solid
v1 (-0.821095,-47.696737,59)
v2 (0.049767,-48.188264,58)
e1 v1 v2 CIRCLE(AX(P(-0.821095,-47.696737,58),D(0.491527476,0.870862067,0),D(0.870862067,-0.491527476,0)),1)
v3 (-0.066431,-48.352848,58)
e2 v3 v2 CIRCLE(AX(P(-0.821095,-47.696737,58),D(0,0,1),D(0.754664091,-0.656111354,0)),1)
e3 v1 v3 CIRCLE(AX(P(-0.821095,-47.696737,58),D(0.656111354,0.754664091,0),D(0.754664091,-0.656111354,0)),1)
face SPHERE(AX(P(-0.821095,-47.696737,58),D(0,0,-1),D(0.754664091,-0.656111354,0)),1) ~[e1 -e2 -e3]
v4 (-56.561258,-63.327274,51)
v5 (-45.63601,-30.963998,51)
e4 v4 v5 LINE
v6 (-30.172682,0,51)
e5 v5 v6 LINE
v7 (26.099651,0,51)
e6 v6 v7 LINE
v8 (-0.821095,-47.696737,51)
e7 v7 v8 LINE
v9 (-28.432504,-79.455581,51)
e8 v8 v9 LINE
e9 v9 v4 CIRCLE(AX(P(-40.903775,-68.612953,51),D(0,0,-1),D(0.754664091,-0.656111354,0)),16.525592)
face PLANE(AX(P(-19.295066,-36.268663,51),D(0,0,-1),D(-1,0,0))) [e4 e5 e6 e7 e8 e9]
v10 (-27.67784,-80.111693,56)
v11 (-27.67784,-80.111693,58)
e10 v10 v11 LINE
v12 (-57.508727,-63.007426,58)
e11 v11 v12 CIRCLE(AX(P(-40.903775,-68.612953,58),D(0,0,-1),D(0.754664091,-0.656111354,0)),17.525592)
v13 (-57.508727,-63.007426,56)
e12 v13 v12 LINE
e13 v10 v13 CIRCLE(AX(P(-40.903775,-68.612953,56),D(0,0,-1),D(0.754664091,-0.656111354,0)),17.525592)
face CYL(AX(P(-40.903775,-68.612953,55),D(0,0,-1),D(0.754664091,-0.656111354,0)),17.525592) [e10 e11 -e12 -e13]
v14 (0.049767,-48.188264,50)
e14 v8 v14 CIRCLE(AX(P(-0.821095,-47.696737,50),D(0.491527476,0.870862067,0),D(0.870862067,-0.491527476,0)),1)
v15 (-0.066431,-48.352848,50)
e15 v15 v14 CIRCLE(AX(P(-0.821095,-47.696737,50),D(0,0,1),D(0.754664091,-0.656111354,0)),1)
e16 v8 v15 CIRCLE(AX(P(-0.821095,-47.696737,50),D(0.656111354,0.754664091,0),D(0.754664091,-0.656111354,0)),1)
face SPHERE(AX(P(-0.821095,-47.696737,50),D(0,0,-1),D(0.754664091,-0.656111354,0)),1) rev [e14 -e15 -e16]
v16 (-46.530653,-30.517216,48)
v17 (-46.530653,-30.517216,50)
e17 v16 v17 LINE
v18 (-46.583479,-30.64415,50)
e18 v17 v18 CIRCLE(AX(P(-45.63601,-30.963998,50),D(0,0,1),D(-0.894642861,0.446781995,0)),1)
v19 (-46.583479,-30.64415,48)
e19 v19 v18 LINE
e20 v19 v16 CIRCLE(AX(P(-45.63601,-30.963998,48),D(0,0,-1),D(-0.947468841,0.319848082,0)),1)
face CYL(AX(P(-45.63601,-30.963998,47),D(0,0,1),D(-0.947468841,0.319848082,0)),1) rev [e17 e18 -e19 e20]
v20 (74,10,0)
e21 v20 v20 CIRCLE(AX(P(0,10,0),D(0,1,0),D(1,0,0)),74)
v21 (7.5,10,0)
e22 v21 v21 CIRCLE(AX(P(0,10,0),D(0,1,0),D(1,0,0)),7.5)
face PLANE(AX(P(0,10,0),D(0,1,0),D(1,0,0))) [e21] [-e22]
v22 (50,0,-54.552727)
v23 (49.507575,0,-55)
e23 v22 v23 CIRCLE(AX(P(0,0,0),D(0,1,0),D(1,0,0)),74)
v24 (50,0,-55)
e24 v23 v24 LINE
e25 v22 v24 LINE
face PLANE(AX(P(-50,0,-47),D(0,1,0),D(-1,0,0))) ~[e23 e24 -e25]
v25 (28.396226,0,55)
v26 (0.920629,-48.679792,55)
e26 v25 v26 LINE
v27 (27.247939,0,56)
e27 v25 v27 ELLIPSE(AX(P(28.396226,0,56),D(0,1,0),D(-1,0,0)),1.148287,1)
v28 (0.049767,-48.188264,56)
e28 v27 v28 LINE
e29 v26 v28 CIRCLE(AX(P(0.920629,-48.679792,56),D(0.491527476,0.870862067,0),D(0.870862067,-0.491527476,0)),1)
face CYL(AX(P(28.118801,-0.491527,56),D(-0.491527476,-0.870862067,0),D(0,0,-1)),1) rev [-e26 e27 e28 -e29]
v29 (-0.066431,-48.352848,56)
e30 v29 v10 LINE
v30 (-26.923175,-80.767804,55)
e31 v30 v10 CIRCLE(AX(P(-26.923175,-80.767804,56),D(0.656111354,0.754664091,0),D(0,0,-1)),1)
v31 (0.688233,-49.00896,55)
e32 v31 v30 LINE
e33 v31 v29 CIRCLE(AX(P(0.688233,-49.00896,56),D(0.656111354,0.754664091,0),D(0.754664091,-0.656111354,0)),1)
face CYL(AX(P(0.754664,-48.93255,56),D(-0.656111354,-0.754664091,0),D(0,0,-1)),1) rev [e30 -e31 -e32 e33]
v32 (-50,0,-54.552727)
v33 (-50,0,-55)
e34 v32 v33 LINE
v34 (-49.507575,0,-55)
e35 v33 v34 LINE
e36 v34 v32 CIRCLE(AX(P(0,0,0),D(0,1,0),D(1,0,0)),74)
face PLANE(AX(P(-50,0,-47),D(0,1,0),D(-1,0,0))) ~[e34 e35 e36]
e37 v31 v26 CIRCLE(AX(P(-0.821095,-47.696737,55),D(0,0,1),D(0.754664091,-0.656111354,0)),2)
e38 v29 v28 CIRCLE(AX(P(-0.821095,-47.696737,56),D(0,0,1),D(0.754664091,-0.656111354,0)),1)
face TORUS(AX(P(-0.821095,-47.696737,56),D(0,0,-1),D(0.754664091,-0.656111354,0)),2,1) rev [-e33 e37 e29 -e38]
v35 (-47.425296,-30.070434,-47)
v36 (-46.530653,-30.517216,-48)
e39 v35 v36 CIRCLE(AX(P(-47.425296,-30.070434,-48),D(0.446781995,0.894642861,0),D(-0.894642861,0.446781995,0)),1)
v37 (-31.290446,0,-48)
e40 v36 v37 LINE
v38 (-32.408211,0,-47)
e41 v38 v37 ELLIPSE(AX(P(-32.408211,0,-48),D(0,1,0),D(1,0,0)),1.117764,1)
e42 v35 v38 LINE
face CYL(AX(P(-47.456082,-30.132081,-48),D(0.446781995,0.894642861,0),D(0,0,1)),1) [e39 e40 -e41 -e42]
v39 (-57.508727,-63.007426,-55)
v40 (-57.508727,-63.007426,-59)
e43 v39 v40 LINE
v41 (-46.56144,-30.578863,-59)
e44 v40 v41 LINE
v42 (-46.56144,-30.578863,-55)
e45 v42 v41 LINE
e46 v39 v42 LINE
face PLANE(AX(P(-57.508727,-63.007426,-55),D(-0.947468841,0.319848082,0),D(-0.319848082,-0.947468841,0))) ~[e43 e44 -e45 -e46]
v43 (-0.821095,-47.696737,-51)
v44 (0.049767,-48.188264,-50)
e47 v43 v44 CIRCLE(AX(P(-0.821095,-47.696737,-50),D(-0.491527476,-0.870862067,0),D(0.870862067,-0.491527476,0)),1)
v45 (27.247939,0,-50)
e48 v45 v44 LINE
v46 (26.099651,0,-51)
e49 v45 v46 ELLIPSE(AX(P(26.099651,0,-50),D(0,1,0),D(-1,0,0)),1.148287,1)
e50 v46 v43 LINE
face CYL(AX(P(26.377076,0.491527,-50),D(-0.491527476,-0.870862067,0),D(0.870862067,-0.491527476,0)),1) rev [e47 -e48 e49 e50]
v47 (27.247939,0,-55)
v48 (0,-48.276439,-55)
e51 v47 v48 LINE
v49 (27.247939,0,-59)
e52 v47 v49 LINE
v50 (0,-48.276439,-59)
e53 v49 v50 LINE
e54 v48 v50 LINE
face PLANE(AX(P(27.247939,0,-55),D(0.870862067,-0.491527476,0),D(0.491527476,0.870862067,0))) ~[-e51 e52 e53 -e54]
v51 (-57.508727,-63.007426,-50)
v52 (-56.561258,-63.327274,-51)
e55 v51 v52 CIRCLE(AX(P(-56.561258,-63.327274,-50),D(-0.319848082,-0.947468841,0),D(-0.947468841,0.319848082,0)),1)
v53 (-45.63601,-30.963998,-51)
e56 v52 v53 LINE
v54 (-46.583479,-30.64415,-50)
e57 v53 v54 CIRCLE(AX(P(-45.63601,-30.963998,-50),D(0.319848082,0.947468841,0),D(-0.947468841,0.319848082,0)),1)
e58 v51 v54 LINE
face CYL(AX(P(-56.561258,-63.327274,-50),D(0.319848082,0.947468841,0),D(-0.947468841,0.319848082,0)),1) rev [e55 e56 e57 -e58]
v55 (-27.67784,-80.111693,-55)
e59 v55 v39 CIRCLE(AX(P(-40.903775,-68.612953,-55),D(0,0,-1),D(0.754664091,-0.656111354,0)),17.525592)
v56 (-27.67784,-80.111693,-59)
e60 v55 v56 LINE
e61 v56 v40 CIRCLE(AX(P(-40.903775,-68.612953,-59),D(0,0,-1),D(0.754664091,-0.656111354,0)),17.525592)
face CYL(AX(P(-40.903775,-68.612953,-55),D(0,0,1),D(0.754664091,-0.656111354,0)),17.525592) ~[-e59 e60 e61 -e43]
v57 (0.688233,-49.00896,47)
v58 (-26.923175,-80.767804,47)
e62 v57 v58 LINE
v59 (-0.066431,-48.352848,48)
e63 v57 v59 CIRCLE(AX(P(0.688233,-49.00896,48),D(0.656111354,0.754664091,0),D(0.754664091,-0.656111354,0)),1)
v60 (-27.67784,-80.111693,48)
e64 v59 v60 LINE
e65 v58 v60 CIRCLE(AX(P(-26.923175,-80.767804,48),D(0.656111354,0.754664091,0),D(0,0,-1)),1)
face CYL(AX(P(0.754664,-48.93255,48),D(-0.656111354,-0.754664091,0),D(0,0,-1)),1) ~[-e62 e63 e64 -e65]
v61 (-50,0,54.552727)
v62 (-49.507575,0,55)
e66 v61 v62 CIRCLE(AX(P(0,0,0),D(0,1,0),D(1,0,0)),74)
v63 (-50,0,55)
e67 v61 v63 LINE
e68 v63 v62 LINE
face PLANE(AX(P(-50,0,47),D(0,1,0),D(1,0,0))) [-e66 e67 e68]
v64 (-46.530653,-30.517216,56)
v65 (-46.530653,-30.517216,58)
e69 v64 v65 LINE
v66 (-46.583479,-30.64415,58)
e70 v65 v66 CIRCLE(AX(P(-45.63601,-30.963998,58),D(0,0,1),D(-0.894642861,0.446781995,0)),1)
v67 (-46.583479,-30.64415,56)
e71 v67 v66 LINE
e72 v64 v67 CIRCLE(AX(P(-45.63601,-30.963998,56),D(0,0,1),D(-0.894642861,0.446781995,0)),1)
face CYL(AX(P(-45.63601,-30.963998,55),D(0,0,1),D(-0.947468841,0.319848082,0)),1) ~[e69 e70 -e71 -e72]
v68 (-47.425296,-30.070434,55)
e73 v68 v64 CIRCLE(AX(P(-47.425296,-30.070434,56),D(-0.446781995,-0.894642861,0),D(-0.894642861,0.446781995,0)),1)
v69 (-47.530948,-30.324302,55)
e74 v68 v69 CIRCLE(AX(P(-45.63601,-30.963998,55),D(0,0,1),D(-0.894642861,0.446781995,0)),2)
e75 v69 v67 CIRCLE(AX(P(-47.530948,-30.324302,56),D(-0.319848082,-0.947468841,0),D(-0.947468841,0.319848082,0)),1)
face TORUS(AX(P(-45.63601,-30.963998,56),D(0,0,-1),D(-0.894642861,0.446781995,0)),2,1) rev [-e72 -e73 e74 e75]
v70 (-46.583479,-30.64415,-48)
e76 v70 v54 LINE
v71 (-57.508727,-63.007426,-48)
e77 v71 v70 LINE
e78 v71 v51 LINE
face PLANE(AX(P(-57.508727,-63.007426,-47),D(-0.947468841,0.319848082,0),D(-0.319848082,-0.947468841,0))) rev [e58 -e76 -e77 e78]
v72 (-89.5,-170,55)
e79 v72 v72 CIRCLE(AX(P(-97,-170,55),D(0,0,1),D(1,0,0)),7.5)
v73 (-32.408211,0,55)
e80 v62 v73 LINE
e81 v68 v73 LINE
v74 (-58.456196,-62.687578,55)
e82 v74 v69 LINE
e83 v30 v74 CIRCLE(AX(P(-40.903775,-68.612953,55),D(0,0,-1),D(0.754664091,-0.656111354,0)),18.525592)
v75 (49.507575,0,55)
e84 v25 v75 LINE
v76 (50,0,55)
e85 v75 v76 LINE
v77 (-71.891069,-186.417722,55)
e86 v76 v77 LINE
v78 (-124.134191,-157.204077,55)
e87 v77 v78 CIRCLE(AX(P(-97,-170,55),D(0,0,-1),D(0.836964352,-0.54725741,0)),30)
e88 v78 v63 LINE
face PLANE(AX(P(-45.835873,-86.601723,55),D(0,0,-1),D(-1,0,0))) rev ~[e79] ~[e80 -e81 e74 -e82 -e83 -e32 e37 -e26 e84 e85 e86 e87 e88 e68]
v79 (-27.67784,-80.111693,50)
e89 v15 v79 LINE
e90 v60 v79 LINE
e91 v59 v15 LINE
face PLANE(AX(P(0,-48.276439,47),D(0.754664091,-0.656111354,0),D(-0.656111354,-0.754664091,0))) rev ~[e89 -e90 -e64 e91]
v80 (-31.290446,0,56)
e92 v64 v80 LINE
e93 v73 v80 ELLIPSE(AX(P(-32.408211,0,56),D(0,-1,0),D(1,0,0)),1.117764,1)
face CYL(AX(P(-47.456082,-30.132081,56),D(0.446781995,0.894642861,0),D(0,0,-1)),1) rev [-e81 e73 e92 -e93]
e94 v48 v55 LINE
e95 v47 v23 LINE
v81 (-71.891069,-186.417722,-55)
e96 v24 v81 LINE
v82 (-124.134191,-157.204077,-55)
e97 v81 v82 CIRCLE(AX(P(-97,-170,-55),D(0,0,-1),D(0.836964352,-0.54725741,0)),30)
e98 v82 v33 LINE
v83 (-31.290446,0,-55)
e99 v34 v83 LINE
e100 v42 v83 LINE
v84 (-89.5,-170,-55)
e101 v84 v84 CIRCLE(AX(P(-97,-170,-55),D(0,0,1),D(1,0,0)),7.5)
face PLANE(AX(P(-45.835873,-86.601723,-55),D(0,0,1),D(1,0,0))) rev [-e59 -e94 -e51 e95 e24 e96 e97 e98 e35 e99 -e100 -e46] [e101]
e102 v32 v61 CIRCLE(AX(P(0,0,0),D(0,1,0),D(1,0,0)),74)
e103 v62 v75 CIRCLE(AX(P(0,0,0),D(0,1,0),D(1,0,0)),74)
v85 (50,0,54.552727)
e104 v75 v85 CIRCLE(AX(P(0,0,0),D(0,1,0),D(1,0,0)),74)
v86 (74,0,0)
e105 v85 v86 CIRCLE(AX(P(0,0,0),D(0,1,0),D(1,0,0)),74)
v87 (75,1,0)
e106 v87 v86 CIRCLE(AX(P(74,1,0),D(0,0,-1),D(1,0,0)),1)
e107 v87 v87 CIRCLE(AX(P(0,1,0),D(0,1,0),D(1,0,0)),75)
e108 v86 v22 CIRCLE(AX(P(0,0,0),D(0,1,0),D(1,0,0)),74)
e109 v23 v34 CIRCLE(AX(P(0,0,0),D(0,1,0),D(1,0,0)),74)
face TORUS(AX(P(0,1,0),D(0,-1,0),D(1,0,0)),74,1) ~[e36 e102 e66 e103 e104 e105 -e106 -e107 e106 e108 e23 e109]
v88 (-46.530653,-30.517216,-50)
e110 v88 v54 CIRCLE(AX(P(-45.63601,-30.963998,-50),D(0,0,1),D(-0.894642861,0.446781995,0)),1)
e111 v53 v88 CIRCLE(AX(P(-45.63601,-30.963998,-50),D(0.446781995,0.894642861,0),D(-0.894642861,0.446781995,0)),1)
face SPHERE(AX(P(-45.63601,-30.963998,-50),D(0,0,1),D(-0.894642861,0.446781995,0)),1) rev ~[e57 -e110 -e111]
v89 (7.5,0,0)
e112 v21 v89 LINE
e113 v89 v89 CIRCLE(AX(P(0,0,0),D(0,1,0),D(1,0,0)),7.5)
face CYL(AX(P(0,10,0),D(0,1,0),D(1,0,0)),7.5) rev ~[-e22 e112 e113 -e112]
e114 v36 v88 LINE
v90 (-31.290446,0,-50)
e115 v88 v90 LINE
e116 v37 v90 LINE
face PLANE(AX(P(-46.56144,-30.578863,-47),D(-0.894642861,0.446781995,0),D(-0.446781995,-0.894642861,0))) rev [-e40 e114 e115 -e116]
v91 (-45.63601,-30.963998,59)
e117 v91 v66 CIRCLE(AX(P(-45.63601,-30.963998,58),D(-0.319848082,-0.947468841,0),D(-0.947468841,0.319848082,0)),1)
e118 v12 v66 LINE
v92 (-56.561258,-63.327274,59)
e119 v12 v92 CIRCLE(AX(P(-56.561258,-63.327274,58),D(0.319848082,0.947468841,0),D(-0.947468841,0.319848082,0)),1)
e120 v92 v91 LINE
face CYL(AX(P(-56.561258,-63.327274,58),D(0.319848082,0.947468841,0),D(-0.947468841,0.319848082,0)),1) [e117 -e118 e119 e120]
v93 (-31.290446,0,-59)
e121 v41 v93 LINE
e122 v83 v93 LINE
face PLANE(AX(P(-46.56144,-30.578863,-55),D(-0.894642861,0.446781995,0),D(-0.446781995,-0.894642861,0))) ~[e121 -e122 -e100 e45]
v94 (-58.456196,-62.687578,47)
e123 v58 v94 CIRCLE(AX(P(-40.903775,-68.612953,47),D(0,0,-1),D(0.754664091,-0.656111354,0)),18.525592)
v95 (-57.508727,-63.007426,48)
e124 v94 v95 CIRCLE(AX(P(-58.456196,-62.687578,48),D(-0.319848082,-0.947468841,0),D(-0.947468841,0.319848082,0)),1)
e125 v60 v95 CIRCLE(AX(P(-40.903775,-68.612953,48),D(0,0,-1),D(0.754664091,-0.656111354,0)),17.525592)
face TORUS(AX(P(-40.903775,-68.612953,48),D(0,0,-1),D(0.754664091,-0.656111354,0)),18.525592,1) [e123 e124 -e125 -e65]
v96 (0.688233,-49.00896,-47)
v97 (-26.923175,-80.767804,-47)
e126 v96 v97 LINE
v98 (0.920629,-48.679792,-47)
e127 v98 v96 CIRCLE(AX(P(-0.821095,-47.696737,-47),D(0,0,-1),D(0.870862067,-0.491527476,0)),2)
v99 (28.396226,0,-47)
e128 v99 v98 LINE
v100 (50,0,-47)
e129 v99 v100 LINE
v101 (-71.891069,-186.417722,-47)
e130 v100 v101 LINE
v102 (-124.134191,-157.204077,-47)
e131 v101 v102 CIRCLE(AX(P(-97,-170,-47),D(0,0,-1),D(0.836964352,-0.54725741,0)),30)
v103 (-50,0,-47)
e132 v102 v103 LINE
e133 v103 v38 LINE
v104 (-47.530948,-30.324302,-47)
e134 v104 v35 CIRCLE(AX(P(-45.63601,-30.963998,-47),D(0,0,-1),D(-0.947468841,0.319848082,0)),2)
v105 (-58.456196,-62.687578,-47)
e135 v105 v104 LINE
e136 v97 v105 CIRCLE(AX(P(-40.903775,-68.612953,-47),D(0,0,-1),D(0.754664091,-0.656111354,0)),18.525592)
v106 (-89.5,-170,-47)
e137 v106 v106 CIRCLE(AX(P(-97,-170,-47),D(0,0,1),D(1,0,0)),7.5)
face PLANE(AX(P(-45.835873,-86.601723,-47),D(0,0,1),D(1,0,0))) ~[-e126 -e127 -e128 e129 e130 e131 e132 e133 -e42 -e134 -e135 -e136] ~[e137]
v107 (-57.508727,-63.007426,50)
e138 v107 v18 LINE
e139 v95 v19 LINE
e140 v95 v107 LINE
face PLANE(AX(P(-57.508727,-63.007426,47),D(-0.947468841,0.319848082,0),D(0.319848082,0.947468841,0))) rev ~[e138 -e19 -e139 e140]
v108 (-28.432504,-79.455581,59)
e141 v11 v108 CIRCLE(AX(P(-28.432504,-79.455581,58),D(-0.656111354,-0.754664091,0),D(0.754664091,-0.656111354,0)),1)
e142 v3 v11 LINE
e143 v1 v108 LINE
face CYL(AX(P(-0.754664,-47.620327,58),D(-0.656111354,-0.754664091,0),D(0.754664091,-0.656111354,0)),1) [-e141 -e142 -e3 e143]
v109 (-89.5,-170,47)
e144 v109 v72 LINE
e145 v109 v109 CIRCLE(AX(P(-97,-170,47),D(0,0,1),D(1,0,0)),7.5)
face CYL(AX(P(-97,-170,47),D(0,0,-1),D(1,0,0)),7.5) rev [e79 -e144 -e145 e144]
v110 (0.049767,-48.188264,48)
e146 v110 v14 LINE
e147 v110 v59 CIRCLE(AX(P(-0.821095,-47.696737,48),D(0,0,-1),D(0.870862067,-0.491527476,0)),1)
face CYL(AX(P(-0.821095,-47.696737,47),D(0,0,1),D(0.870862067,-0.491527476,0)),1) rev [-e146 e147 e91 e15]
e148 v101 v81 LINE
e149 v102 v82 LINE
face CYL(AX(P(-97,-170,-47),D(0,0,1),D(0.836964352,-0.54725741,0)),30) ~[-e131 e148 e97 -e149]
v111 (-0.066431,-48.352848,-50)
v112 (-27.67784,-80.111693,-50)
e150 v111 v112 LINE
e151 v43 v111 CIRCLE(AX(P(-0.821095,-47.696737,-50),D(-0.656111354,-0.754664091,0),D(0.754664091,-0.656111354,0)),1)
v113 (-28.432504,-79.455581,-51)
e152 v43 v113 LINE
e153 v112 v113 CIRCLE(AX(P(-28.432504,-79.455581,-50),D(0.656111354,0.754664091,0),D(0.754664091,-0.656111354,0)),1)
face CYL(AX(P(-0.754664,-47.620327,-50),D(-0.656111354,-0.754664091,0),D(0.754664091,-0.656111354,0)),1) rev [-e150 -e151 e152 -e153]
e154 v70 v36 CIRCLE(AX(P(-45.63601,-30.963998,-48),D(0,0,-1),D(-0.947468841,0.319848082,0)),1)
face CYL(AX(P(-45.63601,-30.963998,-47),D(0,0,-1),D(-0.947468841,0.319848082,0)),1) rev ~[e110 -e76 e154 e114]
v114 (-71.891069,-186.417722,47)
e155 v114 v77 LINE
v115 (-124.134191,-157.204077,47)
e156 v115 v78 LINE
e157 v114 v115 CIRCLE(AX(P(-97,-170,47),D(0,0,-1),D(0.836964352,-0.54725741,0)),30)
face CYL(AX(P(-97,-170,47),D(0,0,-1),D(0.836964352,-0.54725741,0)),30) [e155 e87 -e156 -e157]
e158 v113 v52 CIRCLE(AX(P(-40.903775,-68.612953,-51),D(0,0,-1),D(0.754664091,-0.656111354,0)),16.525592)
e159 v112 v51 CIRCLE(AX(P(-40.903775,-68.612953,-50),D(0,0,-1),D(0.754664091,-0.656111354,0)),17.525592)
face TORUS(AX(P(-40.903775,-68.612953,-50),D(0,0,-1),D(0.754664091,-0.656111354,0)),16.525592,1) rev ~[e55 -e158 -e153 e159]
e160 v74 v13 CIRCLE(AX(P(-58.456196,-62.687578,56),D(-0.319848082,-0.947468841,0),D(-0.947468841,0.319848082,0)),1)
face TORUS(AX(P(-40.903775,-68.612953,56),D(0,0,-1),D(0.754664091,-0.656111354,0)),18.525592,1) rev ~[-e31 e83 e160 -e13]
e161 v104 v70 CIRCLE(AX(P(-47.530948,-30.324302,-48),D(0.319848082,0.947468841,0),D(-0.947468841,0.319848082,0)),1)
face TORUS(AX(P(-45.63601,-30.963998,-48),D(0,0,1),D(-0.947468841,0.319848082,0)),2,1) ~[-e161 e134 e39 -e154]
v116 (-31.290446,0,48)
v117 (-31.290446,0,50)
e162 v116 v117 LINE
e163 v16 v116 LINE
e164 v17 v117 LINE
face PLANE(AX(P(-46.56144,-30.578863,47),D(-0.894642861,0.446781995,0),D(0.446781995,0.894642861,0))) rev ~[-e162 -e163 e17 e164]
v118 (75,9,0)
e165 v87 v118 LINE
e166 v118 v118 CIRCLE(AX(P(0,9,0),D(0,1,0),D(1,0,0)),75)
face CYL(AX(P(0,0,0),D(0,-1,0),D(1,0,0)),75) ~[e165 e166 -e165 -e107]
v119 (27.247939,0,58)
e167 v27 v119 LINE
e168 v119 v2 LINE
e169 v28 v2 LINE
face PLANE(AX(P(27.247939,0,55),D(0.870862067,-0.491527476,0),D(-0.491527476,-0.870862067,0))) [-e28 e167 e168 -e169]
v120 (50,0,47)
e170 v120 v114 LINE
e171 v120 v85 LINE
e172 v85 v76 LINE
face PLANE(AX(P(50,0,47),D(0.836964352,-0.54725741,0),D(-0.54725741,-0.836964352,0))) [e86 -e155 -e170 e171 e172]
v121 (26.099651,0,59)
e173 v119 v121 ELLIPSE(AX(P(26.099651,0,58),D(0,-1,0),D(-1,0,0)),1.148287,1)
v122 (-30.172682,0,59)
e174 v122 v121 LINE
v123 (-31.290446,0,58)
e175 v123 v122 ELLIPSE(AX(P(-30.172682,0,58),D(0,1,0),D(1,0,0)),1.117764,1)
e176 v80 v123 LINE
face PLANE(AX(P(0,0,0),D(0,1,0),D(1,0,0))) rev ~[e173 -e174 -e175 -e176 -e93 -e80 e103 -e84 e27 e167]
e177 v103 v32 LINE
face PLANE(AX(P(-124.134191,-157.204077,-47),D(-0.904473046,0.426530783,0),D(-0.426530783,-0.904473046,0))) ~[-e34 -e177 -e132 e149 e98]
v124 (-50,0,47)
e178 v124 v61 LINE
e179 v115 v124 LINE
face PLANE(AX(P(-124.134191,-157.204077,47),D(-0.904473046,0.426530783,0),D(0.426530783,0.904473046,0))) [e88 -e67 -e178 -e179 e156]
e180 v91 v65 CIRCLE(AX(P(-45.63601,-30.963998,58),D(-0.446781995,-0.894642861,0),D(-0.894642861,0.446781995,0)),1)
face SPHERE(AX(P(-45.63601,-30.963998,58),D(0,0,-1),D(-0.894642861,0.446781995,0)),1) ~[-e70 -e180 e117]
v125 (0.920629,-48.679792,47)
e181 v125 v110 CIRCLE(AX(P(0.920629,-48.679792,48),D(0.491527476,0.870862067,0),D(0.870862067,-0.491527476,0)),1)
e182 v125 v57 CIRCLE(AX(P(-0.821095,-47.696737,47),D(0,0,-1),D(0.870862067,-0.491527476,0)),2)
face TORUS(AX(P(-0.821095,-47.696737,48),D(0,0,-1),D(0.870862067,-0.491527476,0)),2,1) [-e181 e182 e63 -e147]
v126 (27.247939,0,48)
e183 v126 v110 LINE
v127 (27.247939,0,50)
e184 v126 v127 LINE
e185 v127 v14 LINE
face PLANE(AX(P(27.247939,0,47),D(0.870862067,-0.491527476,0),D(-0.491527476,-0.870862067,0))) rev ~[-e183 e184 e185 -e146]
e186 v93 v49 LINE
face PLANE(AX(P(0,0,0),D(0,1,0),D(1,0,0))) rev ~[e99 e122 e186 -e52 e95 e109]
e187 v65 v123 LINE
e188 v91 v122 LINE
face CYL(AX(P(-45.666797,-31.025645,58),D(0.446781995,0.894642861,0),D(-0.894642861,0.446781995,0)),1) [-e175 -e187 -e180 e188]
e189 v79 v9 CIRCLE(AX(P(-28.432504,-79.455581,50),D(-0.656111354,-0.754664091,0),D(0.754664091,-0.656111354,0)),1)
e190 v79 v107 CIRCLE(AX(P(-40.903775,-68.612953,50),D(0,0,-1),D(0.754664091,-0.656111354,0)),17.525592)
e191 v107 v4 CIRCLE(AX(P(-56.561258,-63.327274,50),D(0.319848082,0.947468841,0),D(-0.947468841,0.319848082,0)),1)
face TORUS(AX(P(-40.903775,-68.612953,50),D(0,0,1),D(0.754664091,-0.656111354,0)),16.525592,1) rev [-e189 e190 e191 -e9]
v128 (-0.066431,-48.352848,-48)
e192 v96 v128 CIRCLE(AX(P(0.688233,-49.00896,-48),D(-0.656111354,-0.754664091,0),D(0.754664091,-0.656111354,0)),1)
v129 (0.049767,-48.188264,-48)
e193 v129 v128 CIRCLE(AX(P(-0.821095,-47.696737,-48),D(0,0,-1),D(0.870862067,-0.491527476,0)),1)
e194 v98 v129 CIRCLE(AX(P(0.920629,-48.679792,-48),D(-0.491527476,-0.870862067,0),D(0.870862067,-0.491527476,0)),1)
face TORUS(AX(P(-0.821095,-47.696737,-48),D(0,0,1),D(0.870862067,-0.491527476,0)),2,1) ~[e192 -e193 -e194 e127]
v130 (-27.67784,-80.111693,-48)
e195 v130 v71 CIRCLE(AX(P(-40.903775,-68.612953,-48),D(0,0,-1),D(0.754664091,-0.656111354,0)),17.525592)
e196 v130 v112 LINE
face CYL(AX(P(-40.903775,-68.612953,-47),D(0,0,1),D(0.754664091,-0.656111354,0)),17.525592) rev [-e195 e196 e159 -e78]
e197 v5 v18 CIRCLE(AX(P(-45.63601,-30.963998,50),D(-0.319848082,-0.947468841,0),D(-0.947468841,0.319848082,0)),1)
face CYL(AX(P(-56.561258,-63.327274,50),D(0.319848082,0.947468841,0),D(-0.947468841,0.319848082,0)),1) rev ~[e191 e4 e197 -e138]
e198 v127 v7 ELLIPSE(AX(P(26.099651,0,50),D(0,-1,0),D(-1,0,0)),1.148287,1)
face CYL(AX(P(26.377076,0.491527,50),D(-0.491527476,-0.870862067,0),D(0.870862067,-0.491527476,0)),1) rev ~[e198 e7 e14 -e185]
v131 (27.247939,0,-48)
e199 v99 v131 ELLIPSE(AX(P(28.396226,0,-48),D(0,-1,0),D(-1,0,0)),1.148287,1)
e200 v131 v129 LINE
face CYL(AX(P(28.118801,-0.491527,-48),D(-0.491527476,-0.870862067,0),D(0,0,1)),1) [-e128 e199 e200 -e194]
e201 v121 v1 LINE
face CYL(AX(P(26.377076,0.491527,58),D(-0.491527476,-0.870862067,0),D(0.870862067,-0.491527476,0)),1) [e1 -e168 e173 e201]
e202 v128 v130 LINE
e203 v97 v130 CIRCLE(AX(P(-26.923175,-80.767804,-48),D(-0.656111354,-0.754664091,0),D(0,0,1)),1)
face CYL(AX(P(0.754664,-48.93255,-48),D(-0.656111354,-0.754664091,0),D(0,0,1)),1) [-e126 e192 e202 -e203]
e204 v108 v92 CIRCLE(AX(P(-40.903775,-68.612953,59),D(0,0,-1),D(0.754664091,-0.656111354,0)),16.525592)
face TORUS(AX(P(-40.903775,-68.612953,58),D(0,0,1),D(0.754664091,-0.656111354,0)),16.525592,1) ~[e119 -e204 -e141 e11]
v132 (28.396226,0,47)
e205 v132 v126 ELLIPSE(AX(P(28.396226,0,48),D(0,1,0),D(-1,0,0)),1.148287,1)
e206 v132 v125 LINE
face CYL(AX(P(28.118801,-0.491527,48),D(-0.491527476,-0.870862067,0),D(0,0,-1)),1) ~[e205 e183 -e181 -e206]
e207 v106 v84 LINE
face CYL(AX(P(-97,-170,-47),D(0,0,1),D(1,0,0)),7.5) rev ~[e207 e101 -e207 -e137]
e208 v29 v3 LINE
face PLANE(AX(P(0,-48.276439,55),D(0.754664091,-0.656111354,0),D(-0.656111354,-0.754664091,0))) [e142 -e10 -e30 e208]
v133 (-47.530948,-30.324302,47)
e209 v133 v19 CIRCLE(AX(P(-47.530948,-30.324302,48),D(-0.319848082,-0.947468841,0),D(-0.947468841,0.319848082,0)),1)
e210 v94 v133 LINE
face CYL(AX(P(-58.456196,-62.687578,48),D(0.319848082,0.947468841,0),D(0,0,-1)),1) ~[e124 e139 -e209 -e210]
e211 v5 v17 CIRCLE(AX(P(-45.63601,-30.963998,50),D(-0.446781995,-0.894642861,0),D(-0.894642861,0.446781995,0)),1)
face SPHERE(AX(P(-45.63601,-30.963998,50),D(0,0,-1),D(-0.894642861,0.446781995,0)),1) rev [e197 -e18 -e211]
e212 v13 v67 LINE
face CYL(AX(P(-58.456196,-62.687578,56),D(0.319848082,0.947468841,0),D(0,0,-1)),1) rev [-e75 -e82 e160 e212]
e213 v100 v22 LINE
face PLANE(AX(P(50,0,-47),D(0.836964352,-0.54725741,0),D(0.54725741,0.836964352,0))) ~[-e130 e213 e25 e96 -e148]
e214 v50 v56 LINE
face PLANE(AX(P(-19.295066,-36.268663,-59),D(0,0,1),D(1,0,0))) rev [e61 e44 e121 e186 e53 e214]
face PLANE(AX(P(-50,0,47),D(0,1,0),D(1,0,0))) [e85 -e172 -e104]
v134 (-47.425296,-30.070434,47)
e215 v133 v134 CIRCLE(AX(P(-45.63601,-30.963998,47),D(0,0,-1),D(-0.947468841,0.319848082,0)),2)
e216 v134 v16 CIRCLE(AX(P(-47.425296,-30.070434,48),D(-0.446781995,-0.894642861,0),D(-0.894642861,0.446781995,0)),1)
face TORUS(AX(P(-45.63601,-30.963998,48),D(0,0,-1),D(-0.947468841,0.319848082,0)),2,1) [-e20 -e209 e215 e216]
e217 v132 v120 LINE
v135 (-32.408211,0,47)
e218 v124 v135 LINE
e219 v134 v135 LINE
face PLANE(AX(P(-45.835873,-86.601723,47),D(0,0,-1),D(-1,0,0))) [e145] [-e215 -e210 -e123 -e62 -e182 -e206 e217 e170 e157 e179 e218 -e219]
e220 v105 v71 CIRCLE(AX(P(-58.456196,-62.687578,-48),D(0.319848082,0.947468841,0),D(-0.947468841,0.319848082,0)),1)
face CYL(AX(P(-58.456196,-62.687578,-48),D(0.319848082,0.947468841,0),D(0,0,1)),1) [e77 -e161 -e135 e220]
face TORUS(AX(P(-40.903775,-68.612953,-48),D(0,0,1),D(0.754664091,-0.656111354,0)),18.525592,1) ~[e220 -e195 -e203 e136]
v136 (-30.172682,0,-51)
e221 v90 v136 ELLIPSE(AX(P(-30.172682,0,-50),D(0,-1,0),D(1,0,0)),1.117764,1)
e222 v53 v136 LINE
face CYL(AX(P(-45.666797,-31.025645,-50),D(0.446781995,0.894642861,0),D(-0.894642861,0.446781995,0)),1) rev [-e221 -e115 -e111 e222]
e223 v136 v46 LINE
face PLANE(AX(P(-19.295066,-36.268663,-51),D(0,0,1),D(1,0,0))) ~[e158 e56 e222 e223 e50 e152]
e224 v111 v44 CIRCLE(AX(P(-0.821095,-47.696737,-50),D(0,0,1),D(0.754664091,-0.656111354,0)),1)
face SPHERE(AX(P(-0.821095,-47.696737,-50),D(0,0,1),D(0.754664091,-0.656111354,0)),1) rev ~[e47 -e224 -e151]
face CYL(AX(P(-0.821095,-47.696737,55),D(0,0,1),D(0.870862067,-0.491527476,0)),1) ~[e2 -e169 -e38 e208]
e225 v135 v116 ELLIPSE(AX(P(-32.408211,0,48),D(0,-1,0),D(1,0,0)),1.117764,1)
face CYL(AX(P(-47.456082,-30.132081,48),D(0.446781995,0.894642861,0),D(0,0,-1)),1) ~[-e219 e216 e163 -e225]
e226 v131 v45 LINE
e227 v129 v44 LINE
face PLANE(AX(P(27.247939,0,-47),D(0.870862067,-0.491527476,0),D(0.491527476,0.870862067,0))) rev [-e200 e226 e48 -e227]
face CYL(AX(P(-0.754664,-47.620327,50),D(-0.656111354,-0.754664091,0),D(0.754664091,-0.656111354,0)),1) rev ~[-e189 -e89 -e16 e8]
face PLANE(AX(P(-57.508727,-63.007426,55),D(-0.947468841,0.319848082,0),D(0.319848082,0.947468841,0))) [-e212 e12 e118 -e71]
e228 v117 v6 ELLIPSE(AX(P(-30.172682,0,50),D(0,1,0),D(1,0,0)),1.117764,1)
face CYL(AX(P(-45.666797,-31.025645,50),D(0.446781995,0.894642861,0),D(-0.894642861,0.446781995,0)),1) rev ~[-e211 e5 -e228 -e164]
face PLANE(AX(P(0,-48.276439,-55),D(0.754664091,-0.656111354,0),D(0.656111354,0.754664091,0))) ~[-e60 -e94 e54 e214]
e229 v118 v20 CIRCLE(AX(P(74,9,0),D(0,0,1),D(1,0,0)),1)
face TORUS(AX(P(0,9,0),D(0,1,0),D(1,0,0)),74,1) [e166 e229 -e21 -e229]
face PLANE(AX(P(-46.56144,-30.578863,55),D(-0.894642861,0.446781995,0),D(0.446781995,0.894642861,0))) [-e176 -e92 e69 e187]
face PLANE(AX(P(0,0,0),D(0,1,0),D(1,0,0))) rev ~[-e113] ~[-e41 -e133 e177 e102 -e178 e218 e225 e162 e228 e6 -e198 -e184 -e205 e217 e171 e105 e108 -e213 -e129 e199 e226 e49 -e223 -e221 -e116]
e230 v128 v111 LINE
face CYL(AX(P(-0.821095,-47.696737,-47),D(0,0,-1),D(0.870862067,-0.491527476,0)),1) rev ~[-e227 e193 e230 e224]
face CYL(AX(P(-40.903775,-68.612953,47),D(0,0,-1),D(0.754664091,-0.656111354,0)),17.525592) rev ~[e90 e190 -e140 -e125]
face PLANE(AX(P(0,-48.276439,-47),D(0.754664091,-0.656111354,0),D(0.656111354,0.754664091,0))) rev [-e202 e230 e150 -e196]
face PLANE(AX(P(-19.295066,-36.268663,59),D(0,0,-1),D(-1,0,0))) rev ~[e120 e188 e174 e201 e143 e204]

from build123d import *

# Parameters (mm, degrees)
SKETCH1_R            = 75
BOSS_EXTRUDE1_DEPTH  = 10
FILLET1_R            = 1
SKETCH2_R            = 7.5
BOSS_EXTRUDE2_DEPTH  = 8
BOSS_EXTRUDE3_DEPTH  = 4
FILLET2_R            = 1
CUT_EXTRUDE1_DEPTH   = 4
FILLET3_R            = 1
FILLET3_OF_MIRROR1_R = 1
SKETCH5_R            = 7.5
CUT_EXTRUDE2_DEPTH   = 211


with BuildPart() as part:
    # Sketch1 → Boss-Extrude1 (new body)
    with BuildSketch(Plane(origin=(0, 0, 0), x_dir=(1, 0, 0), z_dir=(0, 1, 0))):
        Circle(SKETCH1_R)
    extrude(amount=BOSS_EXTRUDE1_DEPTH)

    # Fillet1
    fillet1_edges = [part.edges().sort_by_distance(p)[0] for p in [
        (-75, 0, 0),
        (-75, 10, 0),
    ]]
    fillet(fillet1_edges, radius=FILLET1_R)

    # Sketch2 → Boss-Extrude2 (add)
    with BuildSketch(Plane.XY.offset(47)):
        with BuildLine():
            Line((-50, 0), (50, 0))
            Line((50, 0), (-71.891069435, -186.417722312))
            ThreePointArc((-71.891069435, -186.417722312), (-111.641881564, -196.184256802), (-124.134191379, -157.204076501))
            Line((-124.134191379, -157.204076501), (-50, 0))
        make_face()
        with Locations((-97, -170)):
            Circle(SKETCH2_R, mode=Mode.SUBTRACT)
    boss_extrude2 = extrude(amount=BOSS_EXTRUDE2_DEPTH)

    # Sketch3 → Boss-Extrude3 (add)
    with BuildSketch(Plane.XY.offset(55)):
        with BuildLine():
            Line((27.247938565, 0), (0, -48.276438764))
            Line((0, -48.276438764), (-27.677839504, -80.111692733))
            ThreePointArc((-27.677839504, -80.111692733), (-49.621195418, -83.816667821), (-57.508726964, -63.007425758))
            Line((-57.508726964, -63.007425758), (-46.561439617, -30.578862792))
            Line((-46.561439617, -30.578862792), (-31.290446104, 0))
            Line((-31.290446104, 0), (27.247938565, 0))
        make_face()
    boss_extrude3 = extrude(amount=BOSS_EXTRUDE3_DEPTH)

    # Fillet2
    fillet2_edges = [part.edges().sort_by_distance(p)[0] for p in [
        (-38.92594286, -15.289431396, 55),
        (-52.035083291, -46.793144275, 55),
        (-46.561439617, -30.578862792, 57),
        (-49.621195418, -83.816667821, 55),
        (-13.838919752, -64.194065748, 55),
        (13.623969282, -24.138219382, 55),
        (0, -48.276438764, 57),
        (-38.92594286, -15.289431396, 59),
        (-52.035083291, -46.793144275, 59),
        (-49.621195418, -83.816667821, 59),
        (-13.838919752, -64.194065748, 59),
        (13.623969282, -24.138219382, 59),
    ]]
    fillet(fillet2_edges, radius=FILLET2_R)

    # Sketch4 → Cut-Extrude1 (cut)
    with BuildSketch(Plane(origin=(0, 0, 47), x_dir=(-1, 0, 0), z_dir=(0, 0, -1))):
        with BuildLine():
            Line((-27.247938565, 0), (0, -48.276438764))
            Line((0, -48.276438764), (27.677839504, -80.111692733))
            ThreePointArc((27.677839504, -80.111692733), (49.621195418, -83.816667821), (57.508726964, -63.007425758))
            Line((57.508726964, -63.007425758), (46.561439617, -30.578862792))
            Line((46.561439617, -30.578862792), (31.290446104, 0))
            Line((31.290446104, 0), (-27.247938565, 0))
        make_face()
    cut_extrude1 = extrude(amount=-CUT_EXTRUDE1_DEPTH, mode=Mode.SUBTRACT)

    # Fillet3
    fillet3_edges = [part.edges().sort_by_distance(p)[0] for p in [
        (-38.92594286, -15.289431396, 51),
        (-52.035083291, -46.793144275, 51),
        (-46.561439617, -30.578862792, 49),
        (-49.621195418, -83.816667821, 51),
        (-13.838919752, -64.194065748, 51),
        (13.623969282, -24.138219382, 51),
        (0, -48.276438764, 49),
        (13.623969282, -24.138219382, 47),
        (-13.838919752, -64.194065748, 47),
        (-49.621195418, -83.816667821, 47),
        (-52.035083291, -46.793144275, 47),
        (-38.92594286, -15.289431396, 47),
    ]]
    fillet(fillet3_edges, radius=FILLET3_R)

    # Mirror1: Boss-Extrude2, Boss-Extrude3, Cut-Extrude1 across plane
    add(boss_extrude2.mirror(Plane.XY))
    add(boss_extrude3.mirror(Plane.XY))
    add(cut_extrude1.mirror(Plane.XY), mode=Mode.SUBTRACT)

    # Fillet3 of Mirror1
    fillet3_of_mirror1_edges = [part.edges().sort_by_distance(p)[0] for p in [
        (-38.92594286, -15.289431396, -51),
        (-52.035083291, -46.793144275, -51),
        (-46.561439617, -30.578862792, -49),
        (-49.621195418, -83.816667821, -51),
        (-13.838919752, -64.194065748, -51),
        (13.623969282, -24.138219382, -51),
        (0, -48.276438764, -49),
        (13.623969282, -24.138219382, -47),
        (-13.838919752, -64.194065748, -47),
        (-49.621195418, -83.816667821, -47),
        (-52.035083291, -46.793144275, -47),
        (-38.92594286, -15.289431396, -47),
    ]]
    fillet(fillet3_of_mirror1_edges, radius=FILLET3_OF_MIRROR1_R)

    # Sketch5 → Cut-Extrude2 (cut, through all)
    with BuildSketch(Plane(origin=(0, 10, 0), x_dir=(1, 0, 0), z_dir=(0, 1, 0))):
        Circle(SKETCH5_R)
    extrude(amount=-CUT_EXTRUDE2_DEPTH, mode=Mode.SUBTRACT)


solid = part.part
